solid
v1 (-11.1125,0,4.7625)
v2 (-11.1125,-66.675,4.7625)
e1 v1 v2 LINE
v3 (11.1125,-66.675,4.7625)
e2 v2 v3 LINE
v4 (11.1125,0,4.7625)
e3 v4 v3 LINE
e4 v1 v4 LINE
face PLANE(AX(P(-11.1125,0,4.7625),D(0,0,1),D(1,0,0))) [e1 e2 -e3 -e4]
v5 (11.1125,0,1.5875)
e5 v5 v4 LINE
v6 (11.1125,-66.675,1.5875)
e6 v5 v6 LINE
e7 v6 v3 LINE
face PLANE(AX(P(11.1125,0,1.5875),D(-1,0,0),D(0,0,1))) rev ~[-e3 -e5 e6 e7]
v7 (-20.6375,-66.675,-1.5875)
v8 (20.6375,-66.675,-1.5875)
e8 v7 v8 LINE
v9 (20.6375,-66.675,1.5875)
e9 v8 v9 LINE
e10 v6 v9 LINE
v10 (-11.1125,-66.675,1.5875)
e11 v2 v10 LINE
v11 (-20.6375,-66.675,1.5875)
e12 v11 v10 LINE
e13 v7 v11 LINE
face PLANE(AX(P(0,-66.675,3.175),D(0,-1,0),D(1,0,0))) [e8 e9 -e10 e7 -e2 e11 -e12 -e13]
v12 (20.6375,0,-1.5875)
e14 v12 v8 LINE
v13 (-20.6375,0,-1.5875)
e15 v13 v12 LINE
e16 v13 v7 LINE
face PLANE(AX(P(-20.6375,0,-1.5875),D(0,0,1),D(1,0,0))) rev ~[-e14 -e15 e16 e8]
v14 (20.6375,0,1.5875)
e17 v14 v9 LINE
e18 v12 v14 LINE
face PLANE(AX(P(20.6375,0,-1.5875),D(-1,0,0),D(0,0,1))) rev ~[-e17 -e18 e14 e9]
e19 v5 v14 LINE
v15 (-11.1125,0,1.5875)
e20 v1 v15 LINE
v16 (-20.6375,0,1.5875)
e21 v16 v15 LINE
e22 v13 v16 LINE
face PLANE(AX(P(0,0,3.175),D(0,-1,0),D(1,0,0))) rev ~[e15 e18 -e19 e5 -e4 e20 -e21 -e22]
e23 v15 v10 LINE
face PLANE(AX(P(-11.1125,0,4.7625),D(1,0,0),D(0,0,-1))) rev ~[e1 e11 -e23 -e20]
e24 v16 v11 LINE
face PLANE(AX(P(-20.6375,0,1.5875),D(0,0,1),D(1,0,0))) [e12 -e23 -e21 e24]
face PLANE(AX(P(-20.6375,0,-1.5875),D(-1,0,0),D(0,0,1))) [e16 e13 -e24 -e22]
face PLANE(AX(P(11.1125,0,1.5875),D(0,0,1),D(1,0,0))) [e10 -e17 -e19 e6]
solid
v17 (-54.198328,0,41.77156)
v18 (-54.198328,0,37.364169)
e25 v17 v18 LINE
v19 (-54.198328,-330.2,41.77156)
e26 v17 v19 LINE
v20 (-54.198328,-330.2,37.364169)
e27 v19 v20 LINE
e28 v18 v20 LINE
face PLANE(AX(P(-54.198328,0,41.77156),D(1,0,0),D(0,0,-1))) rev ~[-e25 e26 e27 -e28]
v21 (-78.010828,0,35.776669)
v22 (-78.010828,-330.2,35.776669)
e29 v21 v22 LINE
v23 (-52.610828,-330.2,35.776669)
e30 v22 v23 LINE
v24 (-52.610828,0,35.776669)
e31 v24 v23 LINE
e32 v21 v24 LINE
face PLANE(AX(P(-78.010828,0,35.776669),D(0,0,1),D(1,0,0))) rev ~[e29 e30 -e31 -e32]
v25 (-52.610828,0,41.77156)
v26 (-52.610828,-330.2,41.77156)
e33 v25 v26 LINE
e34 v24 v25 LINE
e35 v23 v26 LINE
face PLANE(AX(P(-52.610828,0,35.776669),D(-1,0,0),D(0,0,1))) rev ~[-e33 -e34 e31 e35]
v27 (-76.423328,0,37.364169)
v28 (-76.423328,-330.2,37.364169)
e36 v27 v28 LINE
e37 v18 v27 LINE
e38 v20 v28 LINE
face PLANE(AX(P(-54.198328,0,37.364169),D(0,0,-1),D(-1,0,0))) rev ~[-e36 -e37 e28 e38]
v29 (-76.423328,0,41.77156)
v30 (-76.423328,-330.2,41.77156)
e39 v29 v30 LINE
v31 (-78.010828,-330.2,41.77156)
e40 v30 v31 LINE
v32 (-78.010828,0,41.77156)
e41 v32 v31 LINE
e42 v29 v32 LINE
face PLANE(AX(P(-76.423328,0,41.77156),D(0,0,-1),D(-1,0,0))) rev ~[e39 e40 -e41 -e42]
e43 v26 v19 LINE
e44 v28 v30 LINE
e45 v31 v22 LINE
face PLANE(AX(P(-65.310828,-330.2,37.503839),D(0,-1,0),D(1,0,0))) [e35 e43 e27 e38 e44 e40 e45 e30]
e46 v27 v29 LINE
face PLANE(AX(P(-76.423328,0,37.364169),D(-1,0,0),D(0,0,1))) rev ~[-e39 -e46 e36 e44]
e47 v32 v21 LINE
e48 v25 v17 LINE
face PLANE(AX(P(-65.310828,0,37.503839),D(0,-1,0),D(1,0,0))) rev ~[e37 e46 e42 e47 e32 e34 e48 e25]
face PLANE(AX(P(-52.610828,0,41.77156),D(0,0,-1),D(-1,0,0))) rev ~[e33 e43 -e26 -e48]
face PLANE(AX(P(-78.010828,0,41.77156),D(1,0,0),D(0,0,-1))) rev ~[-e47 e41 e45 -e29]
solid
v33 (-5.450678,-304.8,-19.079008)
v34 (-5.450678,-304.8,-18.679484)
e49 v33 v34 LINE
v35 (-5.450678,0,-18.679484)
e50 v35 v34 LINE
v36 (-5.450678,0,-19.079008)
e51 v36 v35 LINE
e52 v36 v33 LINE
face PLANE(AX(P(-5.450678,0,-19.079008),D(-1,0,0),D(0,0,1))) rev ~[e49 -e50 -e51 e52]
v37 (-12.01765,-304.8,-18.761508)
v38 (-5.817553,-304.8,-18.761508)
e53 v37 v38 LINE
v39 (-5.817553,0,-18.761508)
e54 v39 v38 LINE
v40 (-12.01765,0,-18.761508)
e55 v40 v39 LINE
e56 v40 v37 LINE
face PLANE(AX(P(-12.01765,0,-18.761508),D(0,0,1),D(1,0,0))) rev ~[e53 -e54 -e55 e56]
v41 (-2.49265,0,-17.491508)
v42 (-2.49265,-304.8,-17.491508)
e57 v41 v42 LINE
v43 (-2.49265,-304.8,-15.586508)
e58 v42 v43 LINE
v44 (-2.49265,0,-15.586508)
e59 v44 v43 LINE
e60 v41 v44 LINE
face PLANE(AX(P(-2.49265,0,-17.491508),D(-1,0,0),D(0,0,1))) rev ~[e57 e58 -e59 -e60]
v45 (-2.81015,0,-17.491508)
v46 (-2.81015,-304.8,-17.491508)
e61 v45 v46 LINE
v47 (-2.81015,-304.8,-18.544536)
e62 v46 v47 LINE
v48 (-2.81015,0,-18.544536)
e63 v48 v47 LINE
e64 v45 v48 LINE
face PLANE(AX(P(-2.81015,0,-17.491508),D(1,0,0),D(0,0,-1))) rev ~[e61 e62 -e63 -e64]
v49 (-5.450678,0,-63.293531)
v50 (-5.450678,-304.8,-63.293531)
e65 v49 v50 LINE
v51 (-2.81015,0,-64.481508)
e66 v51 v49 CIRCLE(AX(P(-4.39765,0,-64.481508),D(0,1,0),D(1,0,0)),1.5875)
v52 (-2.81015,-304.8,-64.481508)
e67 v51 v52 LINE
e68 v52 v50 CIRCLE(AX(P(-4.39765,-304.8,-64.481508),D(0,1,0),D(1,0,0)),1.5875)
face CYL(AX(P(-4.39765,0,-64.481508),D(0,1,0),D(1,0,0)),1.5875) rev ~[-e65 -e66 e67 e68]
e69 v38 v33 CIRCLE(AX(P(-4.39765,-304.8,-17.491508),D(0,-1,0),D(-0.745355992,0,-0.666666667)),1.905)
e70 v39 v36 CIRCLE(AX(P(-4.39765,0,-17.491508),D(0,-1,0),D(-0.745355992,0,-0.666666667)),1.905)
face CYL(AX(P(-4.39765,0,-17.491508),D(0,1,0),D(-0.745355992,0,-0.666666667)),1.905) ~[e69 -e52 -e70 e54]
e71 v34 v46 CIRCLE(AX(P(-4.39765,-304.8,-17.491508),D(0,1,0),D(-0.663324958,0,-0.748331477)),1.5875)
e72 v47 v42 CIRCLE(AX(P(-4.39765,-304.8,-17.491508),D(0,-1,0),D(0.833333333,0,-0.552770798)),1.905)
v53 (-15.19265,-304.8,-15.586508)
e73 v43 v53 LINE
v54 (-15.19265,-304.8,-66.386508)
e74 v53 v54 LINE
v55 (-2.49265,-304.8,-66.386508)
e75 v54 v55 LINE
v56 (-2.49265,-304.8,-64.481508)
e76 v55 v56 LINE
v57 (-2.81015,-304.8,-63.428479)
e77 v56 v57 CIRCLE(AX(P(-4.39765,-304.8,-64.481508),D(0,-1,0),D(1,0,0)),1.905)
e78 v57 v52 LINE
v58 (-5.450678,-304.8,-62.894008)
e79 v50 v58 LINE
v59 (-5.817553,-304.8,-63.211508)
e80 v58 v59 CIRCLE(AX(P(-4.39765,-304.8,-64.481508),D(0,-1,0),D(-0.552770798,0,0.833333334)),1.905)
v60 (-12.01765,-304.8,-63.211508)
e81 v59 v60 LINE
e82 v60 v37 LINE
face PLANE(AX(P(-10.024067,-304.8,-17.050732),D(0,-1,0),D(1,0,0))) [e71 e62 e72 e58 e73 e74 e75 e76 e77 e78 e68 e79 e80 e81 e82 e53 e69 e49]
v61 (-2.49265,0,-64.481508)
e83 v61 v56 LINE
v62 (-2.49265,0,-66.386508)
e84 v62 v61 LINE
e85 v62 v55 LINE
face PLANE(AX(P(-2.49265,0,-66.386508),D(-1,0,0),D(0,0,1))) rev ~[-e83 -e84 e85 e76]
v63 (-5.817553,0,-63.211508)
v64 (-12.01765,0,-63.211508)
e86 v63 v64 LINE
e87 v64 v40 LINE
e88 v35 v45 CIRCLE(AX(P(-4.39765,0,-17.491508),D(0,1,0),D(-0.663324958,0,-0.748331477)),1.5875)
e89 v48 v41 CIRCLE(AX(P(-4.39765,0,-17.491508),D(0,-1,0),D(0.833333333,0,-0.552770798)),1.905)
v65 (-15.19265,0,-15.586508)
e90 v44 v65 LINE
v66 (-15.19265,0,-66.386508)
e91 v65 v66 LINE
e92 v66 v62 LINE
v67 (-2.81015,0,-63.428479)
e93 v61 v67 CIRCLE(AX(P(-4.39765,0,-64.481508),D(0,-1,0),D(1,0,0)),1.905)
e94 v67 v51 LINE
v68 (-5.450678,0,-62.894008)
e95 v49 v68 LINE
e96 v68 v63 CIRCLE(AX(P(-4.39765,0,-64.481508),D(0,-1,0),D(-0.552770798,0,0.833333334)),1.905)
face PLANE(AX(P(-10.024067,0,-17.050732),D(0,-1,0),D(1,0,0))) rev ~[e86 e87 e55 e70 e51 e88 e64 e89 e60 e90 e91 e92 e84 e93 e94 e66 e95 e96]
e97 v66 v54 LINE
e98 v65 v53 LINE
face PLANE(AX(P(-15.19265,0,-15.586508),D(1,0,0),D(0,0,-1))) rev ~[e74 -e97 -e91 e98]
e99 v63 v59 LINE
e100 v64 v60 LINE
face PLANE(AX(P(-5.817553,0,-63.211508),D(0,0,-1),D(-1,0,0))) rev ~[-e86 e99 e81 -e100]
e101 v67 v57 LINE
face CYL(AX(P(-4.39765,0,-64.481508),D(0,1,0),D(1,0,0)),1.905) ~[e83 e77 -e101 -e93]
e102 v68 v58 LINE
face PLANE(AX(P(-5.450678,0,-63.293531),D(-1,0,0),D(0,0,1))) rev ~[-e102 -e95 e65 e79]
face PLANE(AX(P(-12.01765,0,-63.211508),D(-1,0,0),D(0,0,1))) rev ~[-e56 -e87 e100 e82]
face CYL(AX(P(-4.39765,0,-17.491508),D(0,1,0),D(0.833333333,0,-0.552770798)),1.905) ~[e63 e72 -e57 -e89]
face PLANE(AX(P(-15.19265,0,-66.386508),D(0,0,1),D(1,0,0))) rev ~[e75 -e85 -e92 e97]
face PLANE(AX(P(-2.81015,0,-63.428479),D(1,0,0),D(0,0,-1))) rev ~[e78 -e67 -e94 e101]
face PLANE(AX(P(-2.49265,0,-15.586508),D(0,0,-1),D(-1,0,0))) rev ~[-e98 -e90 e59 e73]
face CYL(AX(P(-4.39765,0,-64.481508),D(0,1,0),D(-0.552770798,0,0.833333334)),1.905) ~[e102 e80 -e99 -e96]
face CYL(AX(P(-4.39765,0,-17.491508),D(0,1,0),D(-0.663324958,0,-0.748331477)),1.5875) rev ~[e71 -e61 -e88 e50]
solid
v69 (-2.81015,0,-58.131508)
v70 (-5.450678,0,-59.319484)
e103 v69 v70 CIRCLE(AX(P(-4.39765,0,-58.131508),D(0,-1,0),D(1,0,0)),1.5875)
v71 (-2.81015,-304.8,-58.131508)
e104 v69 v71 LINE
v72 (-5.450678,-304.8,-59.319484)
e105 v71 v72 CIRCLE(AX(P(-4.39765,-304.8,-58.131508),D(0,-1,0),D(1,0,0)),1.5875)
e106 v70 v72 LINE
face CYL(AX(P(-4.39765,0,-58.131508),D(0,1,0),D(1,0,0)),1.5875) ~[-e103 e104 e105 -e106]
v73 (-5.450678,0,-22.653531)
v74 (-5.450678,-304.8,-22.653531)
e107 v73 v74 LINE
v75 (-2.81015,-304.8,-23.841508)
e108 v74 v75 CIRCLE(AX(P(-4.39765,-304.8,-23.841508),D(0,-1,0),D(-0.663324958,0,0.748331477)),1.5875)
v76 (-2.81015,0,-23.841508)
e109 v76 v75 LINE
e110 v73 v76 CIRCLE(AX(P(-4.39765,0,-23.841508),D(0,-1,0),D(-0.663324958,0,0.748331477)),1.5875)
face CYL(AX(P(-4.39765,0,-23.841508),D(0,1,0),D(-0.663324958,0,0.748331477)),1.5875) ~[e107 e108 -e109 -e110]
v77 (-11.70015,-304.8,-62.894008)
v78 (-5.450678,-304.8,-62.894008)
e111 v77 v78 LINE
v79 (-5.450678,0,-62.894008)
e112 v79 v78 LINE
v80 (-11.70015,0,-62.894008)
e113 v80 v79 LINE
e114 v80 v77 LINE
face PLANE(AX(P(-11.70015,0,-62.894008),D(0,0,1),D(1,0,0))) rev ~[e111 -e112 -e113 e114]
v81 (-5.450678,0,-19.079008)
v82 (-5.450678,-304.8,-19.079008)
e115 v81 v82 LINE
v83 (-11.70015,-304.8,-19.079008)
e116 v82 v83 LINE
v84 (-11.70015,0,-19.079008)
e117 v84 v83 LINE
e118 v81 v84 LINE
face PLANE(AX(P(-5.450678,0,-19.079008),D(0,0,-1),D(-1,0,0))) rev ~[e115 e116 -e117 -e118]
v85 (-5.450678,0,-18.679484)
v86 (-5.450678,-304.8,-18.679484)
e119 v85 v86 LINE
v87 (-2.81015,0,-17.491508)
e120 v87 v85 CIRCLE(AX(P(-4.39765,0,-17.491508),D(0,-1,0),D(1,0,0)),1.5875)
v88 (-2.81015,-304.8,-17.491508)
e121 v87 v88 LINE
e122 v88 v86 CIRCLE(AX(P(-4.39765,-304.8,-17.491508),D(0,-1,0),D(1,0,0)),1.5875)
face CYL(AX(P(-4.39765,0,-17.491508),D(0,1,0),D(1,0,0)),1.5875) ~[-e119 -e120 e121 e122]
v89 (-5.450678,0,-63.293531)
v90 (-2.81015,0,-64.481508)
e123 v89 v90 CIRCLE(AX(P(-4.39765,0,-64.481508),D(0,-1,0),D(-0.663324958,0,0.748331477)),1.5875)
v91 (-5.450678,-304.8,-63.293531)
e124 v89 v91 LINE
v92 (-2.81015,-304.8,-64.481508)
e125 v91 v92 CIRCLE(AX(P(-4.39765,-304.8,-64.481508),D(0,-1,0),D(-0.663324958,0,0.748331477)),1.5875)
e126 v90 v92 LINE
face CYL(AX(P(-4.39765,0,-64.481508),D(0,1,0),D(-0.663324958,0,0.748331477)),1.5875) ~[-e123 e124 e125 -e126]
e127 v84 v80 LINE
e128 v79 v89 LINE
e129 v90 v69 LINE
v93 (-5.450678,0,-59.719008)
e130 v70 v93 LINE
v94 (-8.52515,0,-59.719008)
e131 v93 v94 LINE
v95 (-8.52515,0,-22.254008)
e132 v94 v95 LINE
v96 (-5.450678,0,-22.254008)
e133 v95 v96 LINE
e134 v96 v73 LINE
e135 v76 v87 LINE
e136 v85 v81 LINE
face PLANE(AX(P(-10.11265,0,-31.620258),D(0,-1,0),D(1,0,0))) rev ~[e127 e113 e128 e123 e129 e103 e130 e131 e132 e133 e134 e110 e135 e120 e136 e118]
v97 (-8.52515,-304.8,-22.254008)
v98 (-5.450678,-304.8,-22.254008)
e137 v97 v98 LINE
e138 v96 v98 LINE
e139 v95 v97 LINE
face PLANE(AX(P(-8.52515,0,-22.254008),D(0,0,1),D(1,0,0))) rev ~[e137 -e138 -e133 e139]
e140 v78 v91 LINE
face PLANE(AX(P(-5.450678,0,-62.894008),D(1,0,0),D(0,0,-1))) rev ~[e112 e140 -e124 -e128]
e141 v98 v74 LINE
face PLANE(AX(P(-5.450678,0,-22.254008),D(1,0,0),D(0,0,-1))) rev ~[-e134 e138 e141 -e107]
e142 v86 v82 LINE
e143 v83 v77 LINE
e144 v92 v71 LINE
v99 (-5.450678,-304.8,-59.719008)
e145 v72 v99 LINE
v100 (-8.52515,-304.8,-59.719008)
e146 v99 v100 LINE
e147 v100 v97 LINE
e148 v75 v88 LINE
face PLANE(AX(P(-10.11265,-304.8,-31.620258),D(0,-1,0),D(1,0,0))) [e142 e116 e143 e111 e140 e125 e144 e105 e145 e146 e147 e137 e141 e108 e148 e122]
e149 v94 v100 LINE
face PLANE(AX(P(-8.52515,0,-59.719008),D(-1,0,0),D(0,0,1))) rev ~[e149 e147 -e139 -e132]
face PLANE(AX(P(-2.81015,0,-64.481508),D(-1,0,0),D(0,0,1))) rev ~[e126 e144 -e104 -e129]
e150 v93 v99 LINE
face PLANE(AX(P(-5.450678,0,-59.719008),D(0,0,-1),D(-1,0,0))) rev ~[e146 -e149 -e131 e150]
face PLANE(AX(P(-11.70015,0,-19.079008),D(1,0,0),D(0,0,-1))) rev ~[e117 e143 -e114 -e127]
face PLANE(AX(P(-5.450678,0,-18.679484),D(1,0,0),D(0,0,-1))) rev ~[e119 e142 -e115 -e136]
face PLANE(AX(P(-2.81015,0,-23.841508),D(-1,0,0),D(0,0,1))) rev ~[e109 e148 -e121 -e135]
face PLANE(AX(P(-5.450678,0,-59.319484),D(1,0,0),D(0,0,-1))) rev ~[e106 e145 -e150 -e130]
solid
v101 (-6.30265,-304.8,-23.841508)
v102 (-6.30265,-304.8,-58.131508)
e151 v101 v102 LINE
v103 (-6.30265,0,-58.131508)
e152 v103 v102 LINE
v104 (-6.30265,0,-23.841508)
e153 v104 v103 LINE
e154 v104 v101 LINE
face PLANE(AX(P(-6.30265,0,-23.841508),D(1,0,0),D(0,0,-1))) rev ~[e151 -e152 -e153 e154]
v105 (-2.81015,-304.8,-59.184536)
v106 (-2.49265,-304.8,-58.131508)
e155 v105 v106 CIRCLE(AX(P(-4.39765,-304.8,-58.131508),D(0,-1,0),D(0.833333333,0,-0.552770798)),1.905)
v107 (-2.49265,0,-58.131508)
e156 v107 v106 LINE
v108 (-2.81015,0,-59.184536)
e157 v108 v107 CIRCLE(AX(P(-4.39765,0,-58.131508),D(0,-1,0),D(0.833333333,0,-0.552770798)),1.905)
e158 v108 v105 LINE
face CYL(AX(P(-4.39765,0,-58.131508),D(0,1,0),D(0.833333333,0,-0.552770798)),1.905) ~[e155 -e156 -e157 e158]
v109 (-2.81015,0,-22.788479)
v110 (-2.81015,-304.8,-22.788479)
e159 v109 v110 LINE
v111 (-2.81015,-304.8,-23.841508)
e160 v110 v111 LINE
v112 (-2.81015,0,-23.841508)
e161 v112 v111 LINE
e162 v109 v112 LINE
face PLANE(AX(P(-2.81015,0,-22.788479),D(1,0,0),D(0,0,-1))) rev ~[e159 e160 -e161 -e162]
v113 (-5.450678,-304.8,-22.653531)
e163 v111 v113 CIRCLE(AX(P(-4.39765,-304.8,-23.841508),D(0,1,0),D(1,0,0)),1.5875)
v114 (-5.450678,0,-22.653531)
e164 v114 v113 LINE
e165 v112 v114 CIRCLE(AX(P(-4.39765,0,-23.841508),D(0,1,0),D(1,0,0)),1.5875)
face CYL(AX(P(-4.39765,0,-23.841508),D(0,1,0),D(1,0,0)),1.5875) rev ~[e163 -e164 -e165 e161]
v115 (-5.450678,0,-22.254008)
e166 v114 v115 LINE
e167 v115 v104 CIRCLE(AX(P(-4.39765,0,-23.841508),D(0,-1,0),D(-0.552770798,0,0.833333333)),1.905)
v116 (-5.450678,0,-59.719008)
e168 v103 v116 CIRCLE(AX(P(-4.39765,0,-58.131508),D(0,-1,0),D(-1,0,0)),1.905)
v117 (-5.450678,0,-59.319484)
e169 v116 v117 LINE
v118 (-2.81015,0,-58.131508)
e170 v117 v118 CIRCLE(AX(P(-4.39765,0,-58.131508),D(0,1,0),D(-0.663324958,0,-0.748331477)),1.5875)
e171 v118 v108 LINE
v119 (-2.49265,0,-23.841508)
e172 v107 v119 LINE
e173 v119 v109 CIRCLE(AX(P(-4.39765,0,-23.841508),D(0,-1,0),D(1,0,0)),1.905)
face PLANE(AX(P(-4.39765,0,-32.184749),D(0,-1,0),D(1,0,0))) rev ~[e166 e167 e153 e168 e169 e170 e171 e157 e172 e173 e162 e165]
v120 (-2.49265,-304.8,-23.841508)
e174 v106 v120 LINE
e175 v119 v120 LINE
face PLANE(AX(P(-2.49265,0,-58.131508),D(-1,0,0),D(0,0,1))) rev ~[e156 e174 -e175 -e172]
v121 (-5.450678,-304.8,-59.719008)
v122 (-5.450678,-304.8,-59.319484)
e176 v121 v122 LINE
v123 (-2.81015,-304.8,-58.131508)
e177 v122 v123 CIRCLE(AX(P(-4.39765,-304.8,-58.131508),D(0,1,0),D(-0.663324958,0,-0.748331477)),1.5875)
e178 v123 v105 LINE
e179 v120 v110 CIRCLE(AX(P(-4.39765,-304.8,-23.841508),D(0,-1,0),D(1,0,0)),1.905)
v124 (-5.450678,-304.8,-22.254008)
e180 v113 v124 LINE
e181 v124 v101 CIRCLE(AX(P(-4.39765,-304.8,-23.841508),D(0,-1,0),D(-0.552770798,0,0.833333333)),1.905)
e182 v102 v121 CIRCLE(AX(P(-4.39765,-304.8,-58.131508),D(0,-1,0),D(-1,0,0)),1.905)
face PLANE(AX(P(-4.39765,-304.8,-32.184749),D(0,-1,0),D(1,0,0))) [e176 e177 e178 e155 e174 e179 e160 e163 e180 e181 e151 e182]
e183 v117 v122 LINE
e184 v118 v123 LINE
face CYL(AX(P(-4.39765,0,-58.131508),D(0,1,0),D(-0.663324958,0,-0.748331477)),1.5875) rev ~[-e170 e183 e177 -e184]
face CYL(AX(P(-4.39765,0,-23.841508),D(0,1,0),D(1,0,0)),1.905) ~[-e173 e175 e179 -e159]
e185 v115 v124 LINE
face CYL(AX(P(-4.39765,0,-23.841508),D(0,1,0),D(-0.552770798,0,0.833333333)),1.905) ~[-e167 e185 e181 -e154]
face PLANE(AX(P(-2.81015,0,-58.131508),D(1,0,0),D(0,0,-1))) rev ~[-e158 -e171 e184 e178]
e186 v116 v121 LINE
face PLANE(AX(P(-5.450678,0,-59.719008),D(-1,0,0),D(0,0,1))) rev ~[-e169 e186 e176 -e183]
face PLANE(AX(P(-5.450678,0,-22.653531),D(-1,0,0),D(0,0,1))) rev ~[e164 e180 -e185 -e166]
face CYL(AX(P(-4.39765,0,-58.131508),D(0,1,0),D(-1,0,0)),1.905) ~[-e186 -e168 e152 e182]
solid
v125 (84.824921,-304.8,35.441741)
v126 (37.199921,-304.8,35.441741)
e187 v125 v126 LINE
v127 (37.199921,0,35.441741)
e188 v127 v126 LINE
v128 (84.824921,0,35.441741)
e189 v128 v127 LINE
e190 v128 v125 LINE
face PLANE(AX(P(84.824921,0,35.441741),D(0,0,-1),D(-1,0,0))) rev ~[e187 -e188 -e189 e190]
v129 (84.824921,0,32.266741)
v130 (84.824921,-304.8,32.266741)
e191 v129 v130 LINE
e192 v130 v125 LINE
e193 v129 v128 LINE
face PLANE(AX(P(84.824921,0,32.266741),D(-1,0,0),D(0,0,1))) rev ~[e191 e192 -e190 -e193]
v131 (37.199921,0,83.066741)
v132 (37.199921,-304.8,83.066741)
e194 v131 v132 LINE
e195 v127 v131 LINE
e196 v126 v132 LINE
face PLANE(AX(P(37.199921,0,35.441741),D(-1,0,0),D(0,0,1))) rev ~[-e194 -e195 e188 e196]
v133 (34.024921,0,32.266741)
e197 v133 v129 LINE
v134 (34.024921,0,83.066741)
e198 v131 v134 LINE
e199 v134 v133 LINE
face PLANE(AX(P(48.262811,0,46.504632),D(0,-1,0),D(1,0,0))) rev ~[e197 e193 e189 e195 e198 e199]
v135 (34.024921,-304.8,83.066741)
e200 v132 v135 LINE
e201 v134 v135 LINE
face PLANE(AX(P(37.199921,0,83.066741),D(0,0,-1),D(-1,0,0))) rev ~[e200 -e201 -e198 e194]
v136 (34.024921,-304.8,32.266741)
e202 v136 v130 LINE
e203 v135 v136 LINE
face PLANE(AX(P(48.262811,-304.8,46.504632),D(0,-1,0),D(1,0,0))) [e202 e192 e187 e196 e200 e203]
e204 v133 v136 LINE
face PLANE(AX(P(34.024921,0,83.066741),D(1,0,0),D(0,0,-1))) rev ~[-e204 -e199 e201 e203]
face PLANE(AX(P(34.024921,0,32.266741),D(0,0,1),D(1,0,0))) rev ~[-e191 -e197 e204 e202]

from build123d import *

# Parameters (mm, degrees)
F0_W     = 22.225
F0_H     = 3.175
F0_W_2   = 9.525
F1_DEPTH = 66.675
F3_DEPTH = 330.2
F5_DEPTH = 304.8
F6_W     = 3.175
F6_H     = 18.7325
F7_DEPTH = 304.8
F8_DEPTH = 304.8
F9_DEPTH = 304.8


with BuildPart() as f1:
    # F0 (on Front) → F1 (new body)
    with BuildSketch(Plane.XZ):
        with Locations((0, 3.175)):
            Rectangle(F0_W, F0_H)
        Rectangle(F0_W, F0_H)
        with Locations((-15.875, 0)):
            Rectangle(F0_W_2, F0_H)
        with Locations((15.875, 0)):
            Rectangle(F0_W_2, F0_H)
    extrude(amount=F1_DEPTH)


with BuildPart() as f3:
    # F2 (on Front) → F3 (new body)
    with BuildSketch(Plane.XZ):
        Polygon((-78.0108283877, 35.7766685789), (-52.6108283877, 35.7766685789), (-52.6108283877, 41.7715603303), (-54.1983283877, 41.7715603303), (-54.1983283877, 37.3641685789), (-76.4233283877, 37.3641685789), (-76.4233283877, 41.7715603303), (-78.0108283877, 41.7715603303), align=None)
    extrude(amount=F3_DEPTH)


with BuildPart() as f5:
    # F4 (on Front) → F5 (new body)
    with BuildSketch(Plane.XZ):
        Polygon((34.0249207026, 83.0667410355), (34.0249207026, 32.2667410355), (84.8249207026, 32.2667410355), (84.8249207026, 35.4417410355), (37.1999207026, 35.4417410355), (37.1999207026, 83.0667410355), align=None)
    extrude(amount=F5_DEPTH)


with BuildPart() as f7:
    # F6 (on Front) → F7 (new body)
    with BuildSketch(Plane.XZ):
        with Locations((-10.112649684, -31.6202576473)):
            Rectangle(F6_W, F6_H)
        Polygon((-5.450678055, -22.2540076473), (-5.450678055, -19.0790076473), (-11.700149684, -19.0790076473), (-11.700149684, -22.2540076473), (-8.525149684, -22.2540076473), align=None)
        with BuildLine():
            Line((-2.810149684, -22.7884792763), (-2.810149684, -18.5445360182))
            ThreePointArc((-2.810149684, -18.5445360182), (-4.0197211708, -19.3586431643), (-5.450678055, -19.0790076473))
            Line((-5.450678055, -19.0790076473), (-5.450678055, -22.2540076473))
            ThreePointArc((-5.450678055, -22.2540076473), (-4.0197211708, -21.9743721303), (-2.810149684, -22.7884792763))
        make_face()
        with BuildLine():
            Line((-2.810149684, -18.5445360182), (-2.810149684, -17.4915076473))
            ThreePointArc((-2.810149684, -17.4915076473), (-3.7463150116, -18.9392366946), (-5.450678055, -18.6794838676))
            Line((-5.450678055, -18.6794838676), (-5.450678055, -19.0790076473))
            ThreePointArc((-5.450678055, -19.0790076473), (-4.0197211708, -19.3586431643), (-2.810149684, -18.5445360182))
        make_face()
        with BuildLine():
            ThreePointArc((-5.450678055, -18.6794838676), (-3.7463150116, -18.9392366946), (-2.810149684, -17.4915076473))
            Line((-2.810149684, -17.4915076473), (-5.450678055, -17.4915076473))
            Line((-5.450678055, -17.4915076473), (-5.450678055, -18.6794838676))
        make_face()
        with BuildLine():
            Line((-5.450678055, -17.4915076473), (-2.810149684, -17.4915076473))
            ThreePointArc((-2.810149684, -17.4915076473), (-5.0489843565, -16.0437786), (-5.450678055, -18.6794838676))
            Line((-5.450678055, -18.6794838676), (-5.450678055, -17.4915076473))
        make_face()
        with BuildLine():
            Line((-2.810149684, -23.8415076473), (-2.810149684, -22.7884792763))
            ThreePointArc((-2.810149684, -22.7884792763), (-4.0197211708, -21.9743721303), (-5.450678055, -22.2540076473))
            Line((-5.450678055, -22.2540076473), (-5.450678055, -22.653531427))
            ThreePointArc((-5.450678055, -22.653531427), (-3.7463150116, -22.3937786), (-2.810149684, -23.8415076473))
        make_face()
        with BuildLine():
            Line((-5.450678055, -23.8415076473), (-2.810149684, -23.8415076473))
            ThreePointArc((-2.810149684, -23.8415076473), (-3.7463150116, -22.3937786), (-5.450678055, -22.653531427))
            Line((-5.450678055, -22.653531427), (-5.450678055, -23.8415076473))
        make_face()
        with BuildLine():
            ThreePointArc((-5.450678055, -22.653531427), (-5.0489843565, -25.2892366946), (-2.810149684, -23.8415076473))
            Line((-2.810149684, -23.8415076473), (-5.450678055, -23.8415076473))
            Line((-5.450678055, -23.8415076473), (-5.450678055, -22.653531427))
        make_face()
        with Locations((-10.112649684, -50.3527576473)):
            Rectangle(F6_W, F6_H)
        Polygon((-8.525149684, -59.7190076473), (-11.700149684, -59.7190076473), (-11.700149684, -62.8940076473), (-5.450678055, -62.8940076473), (-5.450678055, -59.7190076473), align=None)
        with BuildLine():
            Line((-2.810149684, -63.4284792763), (-2.810149684, -59.1845360182))
            ThreePointArc((-2.810149684, -59.1845360182), (-4.0197211708, -59.9986431643), (-5.450678055, -59.7190076473))
            Line((-5.450678055, -59.7190076473), (-5.450678055, -62.8940076473))
            ThreePointArc((-5.450678055, -62.8940076473), (-4.0197211708, -62.6143721303), (-2.810149684, -63.4284792763))
        make_face()
        with BuildLine():
            ThreePointArc((-5.450678055, -59.7190076473), (-4.0197211708, -59.9986431643), (-2.810149684, -59.1845360182))
            Line((-2.810149684, -59.1845360182), (-2.810149684, -58.1315076473))
            ThreePointArc((-2.810149684, -58.1315076473), (-3.7463150116, -59.5792366946), (-5.450678055, -59.3194838676))
            Line((-5.450678055, -59.3194838676), (-5.450678055, -59.7190076473))
        make_face()
        with BuildLine():
            ThreePointArc((-5.450678055, -59.3194838676), (-3.7463150116, -59.5792366946), (-2.810149684, -58.1315076473))
            Line((-2.810149684, -58.1315076473), (-5.450678055, -58.1315076473))
            Line((-5.450678055, -58.1315076473), (-5.450678055, -59.3194838676))
        make_face()
        with BuildLine():
            Line((-5.450678055, -58.1315076473), (-2.810149684, -58.1315076473))
            ThreePointArc((-2.810149684, -58.1315076473), (-5.0489843565, -56.6837786), (-5.450678055, -59.3194838676))
            Line((-5.450678055, -59.3194838676), (-5.450678055, -58.1315076473))
        make_face()
        with BuildLine():
            Line((-5.450678055, -64.4815076473), (-2.810149684, -64.4815076473))
            ThreePointArc((-2.810149684, -64.4815076473), (-3.7463150116, -63.0337786), (-5.450678055, -63.293531427))
            Line((-5.450678055, -63.293531427), (-5.450678055, -64.4815076473))
        make_face()
        with BuildLine():
            Line((-2.810149684, -64.4815076473), (-2.810149684, -63.4284792763))
            ThreePointArc((-2.810149684, -63.4284792763), (-4.0197211708, -62.6143721303), (-5.450678055, -62.8940076473))
            Line((-5.450678055, -62.8940076473), (-5.450678055, -63.293531427))
            ThreePointArc((-5.450678055, -63.293531427), (-3.7463150116, -63.0337786), (-2.810149684, -64.4815076473))
        make_face()
        with BuildLine():
            ThreePointArc((-5.450678055, -63.293531427), (-5.0489843565, -65.9292366946), (-2.810149684, -64.4815076473))
            Line((-2.810149684, -64.4815076473), (-5.450678055, -64.4815076473))
            Line((-5.450678055, -64.4815076473), (-5.450678055, -63.293531427))
        make_face()
    extrude(amount=F7_DEPTH)


with BuildPart() as f8:
    # F6 (on Front) → F8 (new body)
    with BuildSketch(Plane.XZ):
        with BuildLine():
            Line((-12.017649684, -18.7615076473), (-5.8175528498, -18.7615076473))
            ThreePointArc((-5.8175528498, -18.7615076473), (-6.1366688041, -16.7137946539), (-4.397649684, -15.5865076473))
            Line((-4.397649684, -15.5865076473), (-15.192649684, -15.5865076473))
            Line((-15.192649684, -15.5865076473), (-15.192649684, -18.7615076473))
            Line((-15.192649684, -18.7615076473), (-12.017649684, -18.7615076473))
        make_face()
        with BuildLine():
            ThreePointArc((-5.450678055, -18.6794838676), (-5.0489843565, -16.0437786), (-2.810149684, -17.4915076473))
            Line((-2.810149684, -17.4915076473), (-2.810149684, -18.5445360182))
            ThreePointArc((-2.810149684, -18.5445360182), (-2.5737510438, -18.0414337787), (-2.492649684, -17.4915076473))
            ThreePointArc((-2.492649684, -17.4915076473), (-3.0506112659, -16.1444692291), (-4.397649684, -15.5865076473))
            ThreePointArc((-4.397649684, -15.5865076473), (-6.1366688041, -16.7137946539), (-5.8175528498, -18.7615076473))
            ThreePointArc((-5.8175528498, -18.7615076473), (-5.6442647645, -18.9319852907), (-5.450678055, -19.0790076473))
            Line((-5.450678055, -19.0790076473), (-5.450678055, -18.6794838676))
        make_face()
        with BuildLine():
            ThreePointArc((-4.397649684, -15.5865076473), (-3.0506112659, -16.1444692291), (-2.492649684, -17.4915076473))
            Line((-2.492649684, -17.4915076473), (-2.492649684, -15.5865076473))
            Line((-2.492649684, -15.5865076473), (-4.397649684, -15.5865076473))
        make_face()
        Polygon((-12.017649684, -19.0790076473), (-12.017649684, -18.7615076473), (-15.192649684, -18.7615076473), (-15.192649684, -40.9865076473), (-12.017649684, -40.9865076473), align=None)
        Polygon((-12.017649684, -62.8940076473), (-12.017649684, -40.9865076473), (-15.192649684, -40.9865076473), (-15.192649684, -63.2115076473), (-12.017649684, -63.2115076473), align=None)
        with BuildLine():
            Line((-12.017649684, -63.2115076473), (-15.192649684, -63.2115076473))
            Line((-15.192649684, -63.2115076473), (-15.192649684, -66.3865076473))
            Line((-15.192649684, -66.3865076473), (-4.397649684, -66.3865076473))
            ThreePointArc((-4.397649684, -66.3865076473), (-6.1366688041, -65.2592206406), (-5.8175528498, -63.2115076473))
            Line((-5.8175528498, -63.2115076473), (-12.017649684, -63.2115076473))
        make_face()
        with BuildLine():
            Line((-2.492649684, -66.3865076473), (-2.492649684, -64.4815076473))
            ThreePointArc((-2.492649684, -64.4815076473), (-3.0506112659, -65.8285460654), (-4.397649684, -66.3865076473))
            Line((-4.397649684, -66.3865076473), (-2.492649684, -66.3865076473))
        make_face()
        with BuildLine():
            ThreePointArc((-4.397649684, -66.3865076473), (-3.0506112659, -65.8285460654), (-2.492649684, -64.4815076473))
            ThreePointArc((-2.492649684, -64.4815076473), (-2.5737510438, -63.9315815159), (-2.810149684, -63.4284792763))
            Line((-2.810149684, -63.4284792763), (-2.810149684, -64.4815076473))
            ThreePointArc((-2.810149684, -64.4815076473), (-5.0489843565, -65.9292366946), (-5.450678055, -63.293531427))
            Line((-5.450678055, -63.293531427), (-5.450678055, -62.8940076473))
            ThreePointArc((-5.450678055, -62.8940076473), (-5.6442647645, -63.0410300038), (-5.8175528498, -63.2115076473))
            ThreePointArc((-5.8175528498, -63.2115076473), (-6.1366688041, -65.2592206406), (-4.397649684, -66.3865076473))
        make_face()
    extrude(amount=F8_DEPTH)


with BuildPart() as f9:
    # F6 (on Front) → F9 (new body)
    with BuildSketch(Plane.XZ):
        with BuildLine():
            Line((-2.492649684, -40.9865076473), (-2.492649684, -23.8415076473))
            ThreePointArc((-2.492649684, -23.8415076473), (-4.397649684, -25.7465076473), (-6.302649684, -23.8415076473))
            Line((-6.302649684, -23.8415076473), (-6.302649684, -40.9865076473))
            Line((-6.302649684, -40.9865076473), (-2.492649684, -40.9865076473))
        make_face()
        with BuildLine():
            ThreePointArc((-2.492649684, -23.8415076473), (-2.5737510438, -23.2915815159), (-2.810149684, -22.7884792763))
            Line((-2.810149684, -22.7884792763), (-2.810149684, -23.8415076473))
            ThreePointArc((-2.810149684, -23.8415076473), (-5.0489843565, -25.2892366946), (-5.450678055, -22.653531427))
            Line((-5.450678055, -22.653531427), (-5.450678055, -22.2540076473))
            ThreePointArc((-5.450678055, -22.2540076473), (-6.0761972774, -22.9406730472), (-6.302649684, -23.8415076473))
            ThreePointArc((-6.302649684, -23.8415076473), (-4.397649684, -25.7465076473), (-2.492649684, -23.8415076473))
        make_face()
        with BuildLine():
            Line((-2.492649684, -58.1315076473), (-2.492649684, -40.9865076473))
            Line((-2.492649684, -40.9865076473), (-6.302649684, -40.9865076473))
            Line((-6.302649684, -40.9865076473), (-6.302649684, -58.1315076473))
            ThreePointArc((-6.302649684, -58.1315076473), (-4.397649684, -56.2265076473), (-2.492649684, -58.1315076473))
        make_face()
        with BuildLine():
            ThreePointArc((-2.810149684, -59.1845360182), (-2.5737510438, -58.6814337787), (-2.492649684, -58.1315076473))
            ThreePointArc((-2.492649684, -58.1315076473), (-4.397649684, -56.2265076473), (-6.302649684, -58.1315076473))
            ThreePointArc((-6.302649684, -58.1315076473), (-6.0761972774, -59.0323422474), (-5.450678055, -59.7190076473))
            Line((-5.450678055, -59.7190076473), (-5.450678055, -59.3194838676))
            ThreePointArc((-5.450678055, -59.3194838676), (-5.0489843565, -56.6837786), (-2.810149684, -58.1315076473))
            Line((-2.810149684, -58.1315076473), (-2.810149684, -59.1845360182))
        make_face()
    extrude(amount=F9_DEPTH)


solid = Compound([f1.part, f3.part, f5.part, f7.part, f8.part, f9.part])
